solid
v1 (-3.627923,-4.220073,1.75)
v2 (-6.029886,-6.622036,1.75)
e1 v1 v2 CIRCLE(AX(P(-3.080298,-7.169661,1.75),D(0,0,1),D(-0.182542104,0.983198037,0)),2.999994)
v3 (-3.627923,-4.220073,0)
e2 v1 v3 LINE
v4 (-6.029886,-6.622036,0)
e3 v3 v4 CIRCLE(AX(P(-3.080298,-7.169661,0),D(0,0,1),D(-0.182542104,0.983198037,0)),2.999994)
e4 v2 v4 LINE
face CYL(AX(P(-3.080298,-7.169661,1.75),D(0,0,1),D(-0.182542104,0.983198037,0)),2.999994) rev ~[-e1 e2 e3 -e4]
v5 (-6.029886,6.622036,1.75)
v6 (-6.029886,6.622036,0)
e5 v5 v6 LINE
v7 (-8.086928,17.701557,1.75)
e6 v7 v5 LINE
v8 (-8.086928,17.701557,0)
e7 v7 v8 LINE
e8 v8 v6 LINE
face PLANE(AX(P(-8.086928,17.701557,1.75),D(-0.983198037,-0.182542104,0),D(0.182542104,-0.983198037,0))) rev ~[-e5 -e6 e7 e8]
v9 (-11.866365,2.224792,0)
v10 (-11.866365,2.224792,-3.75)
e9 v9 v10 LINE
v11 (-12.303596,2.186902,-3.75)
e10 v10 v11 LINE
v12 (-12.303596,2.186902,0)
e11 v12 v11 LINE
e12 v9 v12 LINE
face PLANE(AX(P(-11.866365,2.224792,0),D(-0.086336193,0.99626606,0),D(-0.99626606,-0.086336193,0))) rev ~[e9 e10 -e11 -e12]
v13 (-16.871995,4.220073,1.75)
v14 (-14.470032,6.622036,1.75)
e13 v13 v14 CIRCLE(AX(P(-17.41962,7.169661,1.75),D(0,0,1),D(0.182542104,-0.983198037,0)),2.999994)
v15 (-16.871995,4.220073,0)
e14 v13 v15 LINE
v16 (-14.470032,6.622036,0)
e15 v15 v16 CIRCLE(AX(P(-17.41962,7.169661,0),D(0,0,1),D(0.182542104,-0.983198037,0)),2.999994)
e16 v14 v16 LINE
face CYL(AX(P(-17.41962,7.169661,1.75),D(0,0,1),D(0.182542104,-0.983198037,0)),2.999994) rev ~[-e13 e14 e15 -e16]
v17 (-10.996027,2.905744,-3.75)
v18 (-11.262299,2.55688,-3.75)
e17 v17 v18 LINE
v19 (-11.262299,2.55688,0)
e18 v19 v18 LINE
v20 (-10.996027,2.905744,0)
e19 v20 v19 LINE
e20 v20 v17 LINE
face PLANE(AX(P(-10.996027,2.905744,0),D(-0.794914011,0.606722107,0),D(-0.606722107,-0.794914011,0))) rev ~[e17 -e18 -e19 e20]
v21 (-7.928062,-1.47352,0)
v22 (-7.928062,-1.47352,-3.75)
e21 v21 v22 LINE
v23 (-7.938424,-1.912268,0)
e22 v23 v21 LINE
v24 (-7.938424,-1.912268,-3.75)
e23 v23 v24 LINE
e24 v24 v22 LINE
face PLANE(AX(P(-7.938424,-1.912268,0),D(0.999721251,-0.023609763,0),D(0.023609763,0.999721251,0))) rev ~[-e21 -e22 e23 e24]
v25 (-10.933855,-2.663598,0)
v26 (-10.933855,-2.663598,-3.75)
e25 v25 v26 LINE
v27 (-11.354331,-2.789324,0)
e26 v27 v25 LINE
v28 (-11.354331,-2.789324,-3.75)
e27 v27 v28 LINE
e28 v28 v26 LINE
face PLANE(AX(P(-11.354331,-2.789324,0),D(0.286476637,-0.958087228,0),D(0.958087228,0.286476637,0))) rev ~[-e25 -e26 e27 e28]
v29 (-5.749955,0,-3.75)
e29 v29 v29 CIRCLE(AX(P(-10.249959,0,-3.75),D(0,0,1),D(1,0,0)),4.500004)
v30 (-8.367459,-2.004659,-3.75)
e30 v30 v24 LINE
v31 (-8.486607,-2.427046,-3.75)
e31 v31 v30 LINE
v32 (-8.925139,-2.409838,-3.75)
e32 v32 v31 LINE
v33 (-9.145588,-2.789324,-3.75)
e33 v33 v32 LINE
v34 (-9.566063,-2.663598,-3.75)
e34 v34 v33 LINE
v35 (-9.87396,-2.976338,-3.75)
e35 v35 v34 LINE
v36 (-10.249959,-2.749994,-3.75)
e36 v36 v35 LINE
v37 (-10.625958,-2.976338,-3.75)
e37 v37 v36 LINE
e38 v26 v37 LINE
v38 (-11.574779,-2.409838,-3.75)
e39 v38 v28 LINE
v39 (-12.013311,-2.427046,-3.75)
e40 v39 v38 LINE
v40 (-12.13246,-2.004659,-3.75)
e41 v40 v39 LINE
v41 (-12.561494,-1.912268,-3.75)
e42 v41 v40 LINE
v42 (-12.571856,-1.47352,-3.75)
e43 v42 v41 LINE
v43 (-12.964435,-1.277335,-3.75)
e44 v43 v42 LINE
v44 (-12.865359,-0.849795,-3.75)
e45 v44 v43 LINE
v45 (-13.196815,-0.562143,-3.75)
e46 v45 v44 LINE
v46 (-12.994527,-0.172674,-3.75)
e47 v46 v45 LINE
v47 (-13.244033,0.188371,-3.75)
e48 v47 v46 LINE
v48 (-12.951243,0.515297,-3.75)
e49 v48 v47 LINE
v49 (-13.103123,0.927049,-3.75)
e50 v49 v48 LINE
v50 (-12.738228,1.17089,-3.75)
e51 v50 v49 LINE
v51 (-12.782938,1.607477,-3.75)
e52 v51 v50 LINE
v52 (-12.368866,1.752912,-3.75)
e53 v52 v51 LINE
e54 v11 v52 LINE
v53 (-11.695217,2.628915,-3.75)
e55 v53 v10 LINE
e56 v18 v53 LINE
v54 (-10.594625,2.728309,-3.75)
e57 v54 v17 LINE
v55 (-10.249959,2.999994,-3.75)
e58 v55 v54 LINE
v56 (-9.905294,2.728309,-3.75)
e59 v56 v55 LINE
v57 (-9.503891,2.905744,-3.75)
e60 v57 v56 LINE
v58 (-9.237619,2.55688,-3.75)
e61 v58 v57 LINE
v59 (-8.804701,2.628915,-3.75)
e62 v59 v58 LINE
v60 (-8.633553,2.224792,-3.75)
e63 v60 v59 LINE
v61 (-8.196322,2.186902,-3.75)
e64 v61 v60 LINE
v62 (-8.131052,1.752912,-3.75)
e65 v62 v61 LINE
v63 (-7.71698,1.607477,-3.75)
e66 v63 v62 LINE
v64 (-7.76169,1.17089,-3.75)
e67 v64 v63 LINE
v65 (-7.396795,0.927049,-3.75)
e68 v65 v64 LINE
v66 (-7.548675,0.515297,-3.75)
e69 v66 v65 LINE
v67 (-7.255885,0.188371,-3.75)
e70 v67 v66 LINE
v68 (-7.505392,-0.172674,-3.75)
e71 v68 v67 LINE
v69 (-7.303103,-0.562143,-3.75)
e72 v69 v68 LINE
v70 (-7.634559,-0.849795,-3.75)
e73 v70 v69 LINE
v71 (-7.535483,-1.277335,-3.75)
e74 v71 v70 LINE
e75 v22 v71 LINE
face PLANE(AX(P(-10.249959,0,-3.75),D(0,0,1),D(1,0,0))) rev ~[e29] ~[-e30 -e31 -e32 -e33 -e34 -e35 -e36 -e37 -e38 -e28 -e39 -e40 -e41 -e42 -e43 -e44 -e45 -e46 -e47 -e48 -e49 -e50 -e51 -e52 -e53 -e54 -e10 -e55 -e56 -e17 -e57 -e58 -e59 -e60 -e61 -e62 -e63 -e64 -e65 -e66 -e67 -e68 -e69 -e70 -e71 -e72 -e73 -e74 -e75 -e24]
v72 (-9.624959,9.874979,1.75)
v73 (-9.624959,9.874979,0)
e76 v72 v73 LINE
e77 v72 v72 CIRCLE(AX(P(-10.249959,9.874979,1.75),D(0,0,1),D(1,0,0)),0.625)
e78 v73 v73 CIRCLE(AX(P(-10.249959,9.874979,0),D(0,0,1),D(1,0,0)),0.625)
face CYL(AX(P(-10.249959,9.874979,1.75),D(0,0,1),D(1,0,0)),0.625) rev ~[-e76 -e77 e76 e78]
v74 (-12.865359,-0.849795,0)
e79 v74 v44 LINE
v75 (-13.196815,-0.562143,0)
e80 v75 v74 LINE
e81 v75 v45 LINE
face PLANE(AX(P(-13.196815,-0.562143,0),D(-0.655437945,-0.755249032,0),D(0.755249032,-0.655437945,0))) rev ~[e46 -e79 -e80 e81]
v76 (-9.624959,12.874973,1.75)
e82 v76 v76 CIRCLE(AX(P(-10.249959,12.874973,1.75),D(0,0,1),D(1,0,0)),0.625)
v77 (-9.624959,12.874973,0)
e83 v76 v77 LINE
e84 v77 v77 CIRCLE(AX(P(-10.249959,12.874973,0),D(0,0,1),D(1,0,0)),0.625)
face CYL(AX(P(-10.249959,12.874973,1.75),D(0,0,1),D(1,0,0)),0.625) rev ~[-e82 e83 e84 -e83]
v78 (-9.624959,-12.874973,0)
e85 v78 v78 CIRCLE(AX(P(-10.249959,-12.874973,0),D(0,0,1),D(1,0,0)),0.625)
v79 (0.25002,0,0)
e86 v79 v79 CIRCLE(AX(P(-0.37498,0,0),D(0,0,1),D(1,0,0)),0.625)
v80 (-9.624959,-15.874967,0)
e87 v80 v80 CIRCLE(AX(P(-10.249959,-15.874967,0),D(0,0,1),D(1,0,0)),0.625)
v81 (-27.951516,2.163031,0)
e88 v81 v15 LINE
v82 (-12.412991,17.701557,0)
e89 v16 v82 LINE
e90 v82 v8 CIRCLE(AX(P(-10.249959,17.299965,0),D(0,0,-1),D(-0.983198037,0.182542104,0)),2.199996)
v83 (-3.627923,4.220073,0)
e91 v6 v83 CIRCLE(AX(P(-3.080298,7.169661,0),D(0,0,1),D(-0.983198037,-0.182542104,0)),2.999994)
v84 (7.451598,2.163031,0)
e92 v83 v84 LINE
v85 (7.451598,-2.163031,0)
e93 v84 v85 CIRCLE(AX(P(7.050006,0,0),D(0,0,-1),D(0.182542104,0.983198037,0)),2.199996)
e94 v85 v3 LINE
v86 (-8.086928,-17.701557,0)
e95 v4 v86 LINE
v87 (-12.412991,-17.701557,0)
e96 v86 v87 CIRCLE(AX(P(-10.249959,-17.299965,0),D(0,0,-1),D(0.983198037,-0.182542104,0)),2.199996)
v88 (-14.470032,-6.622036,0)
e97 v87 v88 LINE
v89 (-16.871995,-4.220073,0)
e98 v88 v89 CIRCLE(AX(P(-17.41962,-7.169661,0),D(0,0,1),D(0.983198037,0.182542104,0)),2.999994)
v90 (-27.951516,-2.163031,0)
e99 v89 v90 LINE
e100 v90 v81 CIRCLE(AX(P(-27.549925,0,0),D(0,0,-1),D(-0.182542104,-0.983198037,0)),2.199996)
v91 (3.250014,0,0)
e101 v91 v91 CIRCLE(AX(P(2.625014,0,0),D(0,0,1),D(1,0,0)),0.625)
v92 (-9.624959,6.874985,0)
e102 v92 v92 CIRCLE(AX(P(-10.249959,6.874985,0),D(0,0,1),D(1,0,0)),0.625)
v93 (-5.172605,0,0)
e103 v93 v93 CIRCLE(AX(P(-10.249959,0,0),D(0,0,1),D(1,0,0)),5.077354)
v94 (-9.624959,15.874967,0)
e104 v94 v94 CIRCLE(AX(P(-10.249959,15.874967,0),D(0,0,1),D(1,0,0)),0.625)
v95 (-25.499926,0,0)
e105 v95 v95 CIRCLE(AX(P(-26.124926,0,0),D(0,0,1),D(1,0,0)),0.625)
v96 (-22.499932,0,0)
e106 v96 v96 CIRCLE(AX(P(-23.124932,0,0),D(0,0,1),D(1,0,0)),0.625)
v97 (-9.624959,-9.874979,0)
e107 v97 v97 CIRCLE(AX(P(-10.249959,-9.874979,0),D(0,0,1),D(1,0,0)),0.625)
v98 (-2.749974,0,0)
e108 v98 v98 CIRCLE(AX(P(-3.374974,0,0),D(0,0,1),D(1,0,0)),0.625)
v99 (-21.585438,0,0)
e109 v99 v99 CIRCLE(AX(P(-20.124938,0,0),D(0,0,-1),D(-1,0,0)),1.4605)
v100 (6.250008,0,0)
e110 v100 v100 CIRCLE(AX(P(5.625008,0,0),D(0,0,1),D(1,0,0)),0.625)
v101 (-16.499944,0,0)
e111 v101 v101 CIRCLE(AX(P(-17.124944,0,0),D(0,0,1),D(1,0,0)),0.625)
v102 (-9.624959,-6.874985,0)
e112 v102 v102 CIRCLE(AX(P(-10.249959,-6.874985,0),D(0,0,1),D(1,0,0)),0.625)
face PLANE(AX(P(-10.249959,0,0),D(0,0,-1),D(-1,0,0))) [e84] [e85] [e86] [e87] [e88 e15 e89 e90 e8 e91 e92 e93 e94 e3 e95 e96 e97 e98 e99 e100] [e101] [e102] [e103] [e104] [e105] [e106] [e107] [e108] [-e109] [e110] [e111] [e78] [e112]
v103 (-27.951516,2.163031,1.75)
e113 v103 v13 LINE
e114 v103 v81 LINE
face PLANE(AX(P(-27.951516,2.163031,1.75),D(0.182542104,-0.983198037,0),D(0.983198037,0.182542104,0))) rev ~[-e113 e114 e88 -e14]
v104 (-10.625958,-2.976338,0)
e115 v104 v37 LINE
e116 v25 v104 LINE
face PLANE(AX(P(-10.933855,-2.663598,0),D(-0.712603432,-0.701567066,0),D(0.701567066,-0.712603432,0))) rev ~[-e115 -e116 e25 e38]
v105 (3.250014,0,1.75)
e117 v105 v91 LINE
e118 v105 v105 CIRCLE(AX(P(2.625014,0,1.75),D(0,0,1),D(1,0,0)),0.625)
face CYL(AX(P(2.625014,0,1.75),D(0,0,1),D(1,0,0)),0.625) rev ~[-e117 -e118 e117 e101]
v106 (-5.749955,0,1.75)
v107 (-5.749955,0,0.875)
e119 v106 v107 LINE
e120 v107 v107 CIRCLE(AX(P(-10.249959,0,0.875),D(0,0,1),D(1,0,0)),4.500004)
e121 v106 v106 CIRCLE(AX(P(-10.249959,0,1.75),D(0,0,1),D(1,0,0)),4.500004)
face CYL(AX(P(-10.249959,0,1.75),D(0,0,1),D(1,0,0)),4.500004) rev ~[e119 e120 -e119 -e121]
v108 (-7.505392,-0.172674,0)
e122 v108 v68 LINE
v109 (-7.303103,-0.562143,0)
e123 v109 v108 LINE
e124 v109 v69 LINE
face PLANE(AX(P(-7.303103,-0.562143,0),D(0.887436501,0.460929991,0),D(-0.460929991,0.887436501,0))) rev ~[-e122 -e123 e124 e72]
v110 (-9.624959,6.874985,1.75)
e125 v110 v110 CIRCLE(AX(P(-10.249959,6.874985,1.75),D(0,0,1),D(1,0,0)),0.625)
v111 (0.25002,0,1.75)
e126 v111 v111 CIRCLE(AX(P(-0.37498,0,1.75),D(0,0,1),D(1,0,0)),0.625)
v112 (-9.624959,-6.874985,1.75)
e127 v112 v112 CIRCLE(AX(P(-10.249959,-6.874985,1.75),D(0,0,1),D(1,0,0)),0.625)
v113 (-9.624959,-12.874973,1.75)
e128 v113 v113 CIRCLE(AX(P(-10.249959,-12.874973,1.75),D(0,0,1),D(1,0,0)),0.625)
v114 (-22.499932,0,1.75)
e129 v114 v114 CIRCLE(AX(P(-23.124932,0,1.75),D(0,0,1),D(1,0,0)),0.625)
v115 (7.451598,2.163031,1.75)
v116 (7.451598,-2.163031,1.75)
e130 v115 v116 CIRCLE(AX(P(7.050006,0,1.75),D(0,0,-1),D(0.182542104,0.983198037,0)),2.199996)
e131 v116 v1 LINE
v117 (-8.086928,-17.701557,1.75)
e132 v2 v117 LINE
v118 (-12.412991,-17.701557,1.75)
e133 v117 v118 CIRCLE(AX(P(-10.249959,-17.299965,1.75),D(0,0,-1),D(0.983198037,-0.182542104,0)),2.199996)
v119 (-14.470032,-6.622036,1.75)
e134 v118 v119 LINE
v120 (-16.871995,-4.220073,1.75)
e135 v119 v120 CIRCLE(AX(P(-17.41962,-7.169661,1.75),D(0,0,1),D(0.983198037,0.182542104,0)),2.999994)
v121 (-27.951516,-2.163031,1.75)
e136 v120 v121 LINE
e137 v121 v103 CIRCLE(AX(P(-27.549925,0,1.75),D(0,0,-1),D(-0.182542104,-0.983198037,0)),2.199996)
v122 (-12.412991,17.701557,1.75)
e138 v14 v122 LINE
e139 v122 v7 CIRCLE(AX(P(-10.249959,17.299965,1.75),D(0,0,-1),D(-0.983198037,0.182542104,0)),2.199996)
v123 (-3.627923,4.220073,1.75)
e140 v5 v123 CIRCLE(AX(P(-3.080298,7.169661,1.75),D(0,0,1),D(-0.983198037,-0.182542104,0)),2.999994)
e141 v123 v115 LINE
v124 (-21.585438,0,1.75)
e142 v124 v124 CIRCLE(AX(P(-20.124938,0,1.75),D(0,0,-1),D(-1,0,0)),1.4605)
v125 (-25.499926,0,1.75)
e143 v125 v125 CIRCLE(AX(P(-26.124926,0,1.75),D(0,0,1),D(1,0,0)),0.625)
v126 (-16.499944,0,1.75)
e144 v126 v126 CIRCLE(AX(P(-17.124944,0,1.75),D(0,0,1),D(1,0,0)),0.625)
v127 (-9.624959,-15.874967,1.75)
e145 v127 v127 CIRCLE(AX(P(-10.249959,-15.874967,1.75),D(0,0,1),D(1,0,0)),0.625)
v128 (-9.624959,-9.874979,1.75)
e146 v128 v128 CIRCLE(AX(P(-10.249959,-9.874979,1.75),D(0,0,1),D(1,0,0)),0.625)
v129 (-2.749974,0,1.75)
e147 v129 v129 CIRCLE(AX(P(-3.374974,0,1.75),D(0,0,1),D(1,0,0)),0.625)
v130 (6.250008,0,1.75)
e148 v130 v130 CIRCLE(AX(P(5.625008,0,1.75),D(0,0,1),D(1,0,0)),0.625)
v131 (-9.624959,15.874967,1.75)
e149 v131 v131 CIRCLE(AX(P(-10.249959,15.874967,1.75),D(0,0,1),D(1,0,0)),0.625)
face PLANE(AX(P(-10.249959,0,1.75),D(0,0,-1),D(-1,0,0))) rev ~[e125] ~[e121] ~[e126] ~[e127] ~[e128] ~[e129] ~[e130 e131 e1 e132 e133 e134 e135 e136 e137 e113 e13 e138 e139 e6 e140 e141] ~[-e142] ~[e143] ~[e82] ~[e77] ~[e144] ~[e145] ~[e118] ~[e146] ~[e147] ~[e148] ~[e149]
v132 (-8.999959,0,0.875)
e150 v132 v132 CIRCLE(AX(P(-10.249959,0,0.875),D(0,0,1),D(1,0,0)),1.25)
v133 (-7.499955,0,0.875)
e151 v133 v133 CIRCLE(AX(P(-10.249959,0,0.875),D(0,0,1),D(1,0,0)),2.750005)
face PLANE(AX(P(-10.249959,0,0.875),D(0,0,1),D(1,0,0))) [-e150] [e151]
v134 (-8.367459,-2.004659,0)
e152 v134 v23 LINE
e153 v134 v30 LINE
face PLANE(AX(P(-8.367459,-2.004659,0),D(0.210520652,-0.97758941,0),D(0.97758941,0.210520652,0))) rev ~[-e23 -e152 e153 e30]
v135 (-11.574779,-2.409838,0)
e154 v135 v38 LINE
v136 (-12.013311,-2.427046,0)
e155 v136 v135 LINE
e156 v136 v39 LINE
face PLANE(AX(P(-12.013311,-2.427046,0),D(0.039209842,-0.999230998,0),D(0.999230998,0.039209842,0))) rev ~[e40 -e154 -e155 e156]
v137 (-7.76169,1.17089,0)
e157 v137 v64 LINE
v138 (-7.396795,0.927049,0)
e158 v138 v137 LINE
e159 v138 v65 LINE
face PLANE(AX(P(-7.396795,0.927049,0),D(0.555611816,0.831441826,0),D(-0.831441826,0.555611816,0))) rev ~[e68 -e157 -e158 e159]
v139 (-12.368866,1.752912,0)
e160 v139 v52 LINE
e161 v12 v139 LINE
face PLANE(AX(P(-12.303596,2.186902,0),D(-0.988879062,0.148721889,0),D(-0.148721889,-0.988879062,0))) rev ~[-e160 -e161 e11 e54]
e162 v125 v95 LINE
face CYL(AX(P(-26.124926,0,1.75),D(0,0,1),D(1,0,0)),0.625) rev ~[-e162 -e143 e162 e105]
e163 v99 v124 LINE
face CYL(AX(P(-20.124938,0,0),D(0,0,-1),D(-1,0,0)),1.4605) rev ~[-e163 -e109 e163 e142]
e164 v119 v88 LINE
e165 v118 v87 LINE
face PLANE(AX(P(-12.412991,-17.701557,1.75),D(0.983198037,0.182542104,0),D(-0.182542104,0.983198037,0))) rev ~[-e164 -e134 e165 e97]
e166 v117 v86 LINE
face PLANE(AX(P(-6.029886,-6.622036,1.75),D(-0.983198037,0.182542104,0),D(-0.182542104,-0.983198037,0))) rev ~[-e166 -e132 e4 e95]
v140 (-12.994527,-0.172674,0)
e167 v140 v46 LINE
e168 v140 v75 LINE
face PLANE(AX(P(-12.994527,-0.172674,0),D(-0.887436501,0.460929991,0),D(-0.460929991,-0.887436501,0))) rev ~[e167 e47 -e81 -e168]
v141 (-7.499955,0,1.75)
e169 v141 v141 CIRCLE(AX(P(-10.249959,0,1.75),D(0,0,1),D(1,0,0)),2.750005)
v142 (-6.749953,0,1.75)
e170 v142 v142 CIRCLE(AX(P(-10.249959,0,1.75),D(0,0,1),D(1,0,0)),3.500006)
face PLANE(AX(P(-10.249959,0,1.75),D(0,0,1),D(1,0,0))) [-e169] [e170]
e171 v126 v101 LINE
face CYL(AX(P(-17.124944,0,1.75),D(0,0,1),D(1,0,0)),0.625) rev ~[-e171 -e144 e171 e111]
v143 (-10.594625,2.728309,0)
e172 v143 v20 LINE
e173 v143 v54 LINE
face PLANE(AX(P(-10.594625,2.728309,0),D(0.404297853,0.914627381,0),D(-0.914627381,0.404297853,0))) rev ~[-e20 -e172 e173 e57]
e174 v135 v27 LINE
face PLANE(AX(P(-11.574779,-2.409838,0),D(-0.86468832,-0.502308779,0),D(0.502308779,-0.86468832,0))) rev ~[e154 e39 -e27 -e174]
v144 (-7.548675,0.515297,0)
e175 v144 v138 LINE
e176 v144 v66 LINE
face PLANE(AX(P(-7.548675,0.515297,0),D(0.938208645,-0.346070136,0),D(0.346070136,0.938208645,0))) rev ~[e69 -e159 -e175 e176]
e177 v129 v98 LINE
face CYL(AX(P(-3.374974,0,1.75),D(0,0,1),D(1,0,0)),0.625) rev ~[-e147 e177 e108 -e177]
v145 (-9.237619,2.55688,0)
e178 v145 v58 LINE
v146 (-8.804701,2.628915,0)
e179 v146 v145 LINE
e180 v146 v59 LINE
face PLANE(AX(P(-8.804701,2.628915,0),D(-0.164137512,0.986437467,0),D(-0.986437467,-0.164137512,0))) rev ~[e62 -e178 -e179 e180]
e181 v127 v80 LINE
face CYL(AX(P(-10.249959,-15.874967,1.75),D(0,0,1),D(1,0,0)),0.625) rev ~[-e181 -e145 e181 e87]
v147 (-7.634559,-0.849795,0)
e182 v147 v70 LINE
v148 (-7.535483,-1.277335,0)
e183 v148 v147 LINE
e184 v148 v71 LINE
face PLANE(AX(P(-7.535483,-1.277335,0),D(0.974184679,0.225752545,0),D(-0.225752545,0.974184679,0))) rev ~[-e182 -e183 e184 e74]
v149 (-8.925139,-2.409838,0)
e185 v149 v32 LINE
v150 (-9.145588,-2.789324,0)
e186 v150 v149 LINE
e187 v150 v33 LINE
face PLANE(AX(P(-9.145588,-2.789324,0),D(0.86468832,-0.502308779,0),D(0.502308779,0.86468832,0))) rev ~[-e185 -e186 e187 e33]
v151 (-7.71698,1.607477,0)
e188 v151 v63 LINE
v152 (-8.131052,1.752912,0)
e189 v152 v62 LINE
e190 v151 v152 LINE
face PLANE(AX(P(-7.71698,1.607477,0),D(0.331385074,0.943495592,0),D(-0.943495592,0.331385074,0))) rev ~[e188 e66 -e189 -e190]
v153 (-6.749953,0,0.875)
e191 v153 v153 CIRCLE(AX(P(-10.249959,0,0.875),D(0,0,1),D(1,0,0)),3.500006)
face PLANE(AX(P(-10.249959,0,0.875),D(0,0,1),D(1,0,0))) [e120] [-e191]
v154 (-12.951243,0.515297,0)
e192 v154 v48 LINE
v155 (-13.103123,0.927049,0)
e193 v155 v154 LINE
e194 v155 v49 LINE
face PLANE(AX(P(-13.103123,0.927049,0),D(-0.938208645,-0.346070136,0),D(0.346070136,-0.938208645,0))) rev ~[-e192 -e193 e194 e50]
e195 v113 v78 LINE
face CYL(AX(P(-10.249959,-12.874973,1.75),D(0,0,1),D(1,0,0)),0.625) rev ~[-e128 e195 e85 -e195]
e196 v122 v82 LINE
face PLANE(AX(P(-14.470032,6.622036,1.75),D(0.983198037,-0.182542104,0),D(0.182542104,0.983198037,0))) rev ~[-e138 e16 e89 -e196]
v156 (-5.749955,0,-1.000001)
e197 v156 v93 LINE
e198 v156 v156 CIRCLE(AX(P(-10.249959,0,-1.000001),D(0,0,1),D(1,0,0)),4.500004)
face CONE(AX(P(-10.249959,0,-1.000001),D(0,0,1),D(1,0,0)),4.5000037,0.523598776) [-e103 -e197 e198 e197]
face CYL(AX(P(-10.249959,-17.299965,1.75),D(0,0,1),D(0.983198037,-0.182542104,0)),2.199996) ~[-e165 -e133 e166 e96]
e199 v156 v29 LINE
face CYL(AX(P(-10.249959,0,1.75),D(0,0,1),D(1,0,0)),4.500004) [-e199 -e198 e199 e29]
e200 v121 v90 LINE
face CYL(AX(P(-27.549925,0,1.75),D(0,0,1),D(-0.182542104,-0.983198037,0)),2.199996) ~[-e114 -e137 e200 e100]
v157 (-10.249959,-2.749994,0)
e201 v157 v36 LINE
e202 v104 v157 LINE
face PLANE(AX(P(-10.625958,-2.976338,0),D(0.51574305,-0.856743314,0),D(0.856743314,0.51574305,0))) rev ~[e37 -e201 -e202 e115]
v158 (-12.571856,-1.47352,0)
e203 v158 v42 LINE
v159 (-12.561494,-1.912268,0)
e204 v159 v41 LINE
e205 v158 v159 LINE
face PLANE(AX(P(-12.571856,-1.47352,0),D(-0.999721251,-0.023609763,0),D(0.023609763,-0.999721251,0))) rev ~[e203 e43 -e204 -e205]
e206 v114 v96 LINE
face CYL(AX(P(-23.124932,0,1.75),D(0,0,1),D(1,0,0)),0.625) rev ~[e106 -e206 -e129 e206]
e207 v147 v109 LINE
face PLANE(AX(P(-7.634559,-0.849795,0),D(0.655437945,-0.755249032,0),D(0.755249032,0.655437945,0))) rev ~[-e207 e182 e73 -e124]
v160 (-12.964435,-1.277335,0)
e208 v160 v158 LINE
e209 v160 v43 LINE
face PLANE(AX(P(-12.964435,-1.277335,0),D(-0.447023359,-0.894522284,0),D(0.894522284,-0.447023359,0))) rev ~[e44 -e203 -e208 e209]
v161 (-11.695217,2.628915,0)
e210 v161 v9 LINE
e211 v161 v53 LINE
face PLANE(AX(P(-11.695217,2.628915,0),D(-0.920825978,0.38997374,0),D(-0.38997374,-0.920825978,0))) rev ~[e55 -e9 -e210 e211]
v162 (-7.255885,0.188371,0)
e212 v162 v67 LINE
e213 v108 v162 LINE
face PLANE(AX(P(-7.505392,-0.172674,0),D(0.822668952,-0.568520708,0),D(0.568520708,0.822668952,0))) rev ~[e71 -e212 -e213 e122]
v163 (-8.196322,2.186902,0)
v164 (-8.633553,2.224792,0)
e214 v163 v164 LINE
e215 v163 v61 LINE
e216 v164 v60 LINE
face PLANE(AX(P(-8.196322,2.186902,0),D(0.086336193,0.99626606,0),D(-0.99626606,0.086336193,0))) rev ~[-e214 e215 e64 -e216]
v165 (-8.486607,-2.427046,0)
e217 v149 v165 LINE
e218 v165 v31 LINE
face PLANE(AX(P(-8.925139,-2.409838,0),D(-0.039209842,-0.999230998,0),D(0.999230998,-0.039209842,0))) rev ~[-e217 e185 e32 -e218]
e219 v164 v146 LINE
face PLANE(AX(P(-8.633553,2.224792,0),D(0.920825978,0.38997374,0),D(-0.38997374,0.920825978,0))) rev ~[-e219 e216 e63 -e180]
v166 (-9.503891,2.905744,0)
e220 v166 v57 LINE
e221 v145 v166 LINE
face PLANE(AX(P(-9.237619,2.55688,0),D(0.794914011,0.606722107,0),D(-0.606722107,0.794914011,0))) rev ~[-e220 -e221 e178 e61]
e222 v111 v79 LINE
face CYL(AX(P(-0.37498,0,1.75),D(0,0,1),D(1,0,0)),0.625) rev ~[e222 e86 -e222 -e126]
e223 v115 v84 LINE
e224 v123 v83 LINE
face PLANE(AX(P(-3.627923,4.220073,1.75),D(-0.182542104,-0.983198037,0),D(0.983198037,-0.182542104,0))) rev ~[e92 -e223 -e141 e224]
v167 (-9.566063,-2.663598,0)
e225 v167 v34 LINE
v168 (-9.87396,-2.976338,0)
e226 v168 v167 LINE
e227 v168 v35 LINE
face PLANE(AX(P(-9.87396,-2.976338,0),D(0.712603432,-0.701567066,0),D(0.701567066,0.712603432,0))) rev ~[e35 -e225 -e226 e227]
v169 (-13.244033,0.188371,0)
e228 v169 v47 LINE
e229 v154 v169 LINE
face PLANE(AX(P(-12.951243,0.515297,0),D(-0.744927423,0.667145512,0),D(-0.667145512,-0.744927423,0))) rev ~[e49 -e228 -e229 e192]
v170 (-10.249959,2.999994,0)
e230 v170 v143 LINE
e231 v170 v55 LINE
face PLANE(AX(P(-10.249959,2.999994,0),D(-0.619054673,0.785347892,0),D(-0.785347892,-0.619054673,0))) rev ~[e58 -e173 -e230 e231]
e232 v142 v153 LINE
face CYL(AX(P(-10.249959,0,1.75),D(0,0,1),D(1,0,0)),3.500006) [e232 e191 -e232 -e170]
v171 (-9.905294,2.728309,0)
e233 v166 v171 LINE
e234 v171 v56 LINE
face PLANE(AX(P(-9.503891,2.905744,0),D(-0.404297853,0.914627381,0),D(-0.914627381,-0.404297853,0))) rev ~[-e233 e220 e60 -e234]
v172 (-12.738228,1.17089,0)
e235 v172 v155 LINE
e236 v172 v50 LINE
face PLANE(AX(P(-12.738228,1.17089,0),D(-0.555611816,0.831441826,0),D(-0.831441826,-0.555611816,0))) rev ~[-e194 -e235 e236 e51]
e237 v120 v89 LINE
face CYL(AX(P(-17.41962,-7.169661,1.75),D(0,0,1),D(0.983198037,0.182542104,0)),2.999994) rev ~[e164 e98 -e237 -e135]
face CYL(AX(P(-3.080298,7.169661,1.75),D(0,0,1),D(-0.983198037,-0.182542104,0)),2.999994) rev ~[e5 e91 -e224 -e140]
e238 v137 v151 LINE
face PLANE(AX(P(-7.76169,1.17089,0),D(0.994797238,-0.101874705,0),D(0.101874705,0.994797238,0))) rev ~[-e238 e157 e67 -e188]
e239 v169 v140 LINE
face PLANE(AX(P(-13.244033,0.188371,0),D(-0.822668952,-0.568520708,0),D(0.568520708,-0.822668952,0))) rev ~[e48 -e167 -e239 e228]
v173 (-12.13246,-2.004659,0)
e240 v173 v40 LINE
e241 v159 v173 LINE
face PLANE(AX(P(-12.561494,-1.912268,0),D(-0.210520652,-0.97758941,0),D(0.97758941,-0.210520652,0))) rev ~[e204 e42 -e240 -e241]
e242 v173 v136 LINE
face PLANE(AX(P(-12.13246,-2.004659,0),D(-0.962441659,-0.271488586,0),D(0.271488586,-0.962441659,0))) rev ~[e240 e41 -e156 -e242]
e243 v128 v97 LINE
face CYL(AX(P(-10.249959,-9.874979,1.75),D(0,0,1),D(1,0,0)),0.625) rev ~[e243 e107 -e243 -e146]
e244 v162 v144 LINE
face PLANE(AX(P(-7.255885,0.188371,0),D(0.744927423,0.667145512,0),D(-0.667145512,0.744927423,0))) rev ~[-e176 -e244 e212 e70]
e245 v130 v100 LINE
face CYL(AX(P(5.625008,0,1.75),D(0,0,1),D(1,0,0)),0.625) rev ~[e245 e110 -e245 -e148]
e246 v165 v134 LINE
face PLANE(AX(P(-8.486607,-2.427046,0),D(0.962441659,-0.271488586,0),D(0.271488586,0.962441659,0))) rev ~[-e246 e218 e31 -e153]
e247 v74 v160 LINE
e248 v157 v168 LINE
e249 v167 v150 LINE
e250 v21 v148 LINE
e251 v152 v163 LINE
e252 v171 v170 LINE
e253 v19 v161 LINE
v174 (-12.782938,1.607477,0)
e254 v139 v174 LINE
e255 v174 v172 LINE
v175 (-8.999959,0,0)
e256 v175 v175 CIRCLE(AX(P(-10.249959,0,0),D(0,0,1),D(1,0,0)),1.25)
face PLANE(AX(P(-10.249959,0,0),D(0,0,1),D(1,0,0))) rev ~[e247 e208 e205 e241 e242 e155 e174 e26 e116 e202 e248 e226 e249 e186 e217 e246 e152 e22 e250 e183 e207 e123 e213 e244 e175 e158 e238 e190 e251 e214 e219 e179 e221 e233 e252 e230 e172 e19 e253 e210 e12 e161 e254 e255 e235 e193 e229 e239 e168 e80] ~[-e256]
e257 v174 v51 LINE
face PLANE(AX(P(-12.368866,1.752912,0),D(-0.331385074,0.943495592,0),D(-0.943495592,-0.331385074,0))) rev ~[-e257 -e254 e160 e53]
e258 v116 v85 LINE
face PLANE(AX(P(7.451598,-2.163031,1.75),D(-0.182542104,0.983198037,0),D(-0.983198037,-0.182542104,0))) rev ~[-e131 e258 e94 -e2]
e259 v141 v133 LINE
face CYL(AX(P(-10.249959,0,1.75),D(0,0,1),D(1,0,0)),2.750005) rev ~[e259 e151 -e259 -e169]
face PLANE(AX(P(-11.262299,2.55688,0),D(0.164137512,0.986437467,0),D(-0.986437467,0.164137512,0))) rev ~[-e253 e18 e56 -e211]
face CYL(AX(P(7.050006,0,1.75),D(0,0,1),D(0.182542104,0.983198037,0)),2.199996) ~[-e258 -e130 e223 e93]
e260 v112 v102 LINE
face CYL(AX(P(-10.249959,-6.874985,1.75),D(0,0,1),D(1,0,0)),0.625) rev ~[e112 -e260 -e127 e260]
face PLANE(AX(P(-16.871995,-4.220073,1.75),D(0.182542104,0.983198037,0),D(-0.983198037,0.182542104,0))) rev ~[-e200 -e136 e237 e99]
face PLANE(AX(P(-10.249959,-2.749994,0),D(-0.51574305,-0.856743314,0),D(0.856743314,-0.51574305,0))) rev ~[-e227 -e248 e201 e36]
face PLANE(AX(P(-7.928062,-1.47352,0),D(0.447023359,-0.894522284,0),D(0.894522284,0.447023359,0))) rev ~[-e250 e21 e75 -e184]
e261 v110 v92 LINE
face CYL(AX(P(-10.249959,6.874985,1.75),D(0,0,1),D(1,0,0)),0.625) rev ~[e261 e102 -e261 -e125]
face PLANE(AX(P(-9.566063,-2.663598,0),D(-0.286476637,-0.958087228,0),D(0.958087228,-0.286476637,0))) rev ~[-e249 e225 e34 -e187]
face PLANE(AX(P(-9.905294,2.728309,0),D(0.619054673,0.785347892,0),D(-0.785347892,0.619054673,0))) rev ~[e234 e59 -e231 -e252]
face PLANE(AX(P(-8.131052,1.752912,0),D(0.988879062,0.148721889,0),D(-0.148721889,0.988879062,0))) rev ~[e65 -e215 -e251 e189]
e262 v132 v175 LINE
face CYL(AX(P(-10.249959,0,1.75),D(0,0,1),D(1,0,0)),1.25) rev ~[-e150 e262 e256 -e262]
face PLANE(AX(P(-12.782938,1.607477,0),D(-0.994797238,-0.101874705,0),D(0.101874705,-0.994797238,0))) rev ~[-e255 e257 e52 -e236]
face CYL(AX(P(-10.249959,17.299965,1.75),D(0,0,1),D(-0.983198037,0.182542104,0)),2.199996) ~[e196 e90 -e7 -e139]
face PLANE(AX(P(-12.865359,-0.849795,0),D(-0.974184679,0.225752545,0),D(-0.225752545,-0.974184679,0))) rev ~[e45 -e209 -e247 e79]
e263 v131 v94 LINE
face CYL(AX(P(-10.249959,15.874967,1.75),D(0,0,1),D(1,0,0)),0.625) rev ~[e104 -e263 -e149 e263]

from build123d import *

# Parameters (mm, degrees)
SKETCH1_R           = 4.5000037
BOSS_EXTRUDE1_DEPTH = 3.75000012
BOSS_EXTRUDE2_START = 1.750000056
SKETCH2_R           = 4.5000037
SKETCH2_R_2         = 3.499999998
SKETCH2_R_3         = 1.25000004
BOSS_EXTRUDE2_DEPTH = 1.750000056
SKETCH4_R           = 2.75000466
SKETCH4_R_2         = 1.25000004
CUT_EXTRUDE1_DEPTH  = 0.875000028
SKETCH6_R           = 4.5000037
SKETCH6_R_2         = 3.5000057
CUT_EXTRUDE2_DEPTH  = 0.875000028
SKETCH10_R          = 0.62500002
SKETCH10_R_2        = 4.5000037
BOSS_EXTRUDE4_DEPTH = 1.750000056
CHAMFER2_SIZE       = 1.00000054
CHAMFER2_SIZE2      = 0.577350581
SKETCH32_R          = 1.4605
CUT_EXTRUDE8_DEPTH  = 36.768264294


with BuildPart() as part:
    # Sketch1 → Boss-Extrude1 (new body)
    with BuildSketch(Plane.XY):
        with Locations((-10.24995918, 0)):
            Circle(SKETCH1_R)
        Polygon((-10.24995918, 2.999994), (-10.594624819, 2.728309468), (-10.996027349, 2.905743672), (-11.262299488, 2.55687975), (-11.695217312, 2.628914782), (-11.866365092, 2.224791874), (-12.303596391, 2.186901508), (-12.368865968, 1.752912142), (-12.782937891, 1.60747717), (-12.738228138, 1.170890494), (-13.103123023, 0.927049129), (-12.951243218, 0.515297489), (-13.244033377, 0.188371182), (-12.994526687, -0.172673551), (-13.196815038, -0.562142819), (-12.865358886, -0.849794878), (-12.964434908, -1.27733532), (-12.571855902, -1.473520467), (-12.561494285, -1.912268145), (-12.132459609, -2.004659346), (-12.01331141, -2.427046129), (-11.574778889, -2.409838105), (-11.354330629, -2.789323879), (-10.933854876, -2.663597874), (-10.625958129, -2.976338151), (-10.24995918, -2.749993992), (-9.873960231, -2.976338151), (-9.566063484, -2.663597874), (-9.145587731, -2.789323879), (-8.925139471, -2.409838105), (-8.48660695, -2.427046129), (-8.367458751, -2.004659346), (-7.938424075, -1.912268145), (-7.928062458, -1.473520467), (-7.535483452, -1.27733532), (-7.634559474, -0.849794878), (-7.303103322, -0.562142819), (-7.505391673, -0.172673551), (-7.255884983, 0.188371182), (-7.548675142, 0.515297489), (-7.396795337, 0.927049129), (-7.761690222, 1.170890494), (-7.716980469, 1.60747717), (-8.131052392, 1.752912142), (-8.196321969, 2.186901508), (-8.633553268, 2.224791874), (-8.804701048, 2.628914782), (-9.237618872, 2.55687975), (-9.503891011, 2.905743672), (-9.905293541, 2.728309468), align=None, mode=Mode.SUBTRACT)
    extrude(amount=-BOSS_EXTRUDE1_DEPTH)

    # Sketch2 → Boss-Extrude2 (add)
    # profile 1 of 2: a face of its own
    with BuildSketch(Plane.XY.offset(BOSS_EXTRUDE2_START)):
        with Locations((-10.24995918, 0)):
            Circle(SKETCH2_R)
        with Locations((-10.24995918, 0)):
            Circle(SKETCH2_R_2, mode=Mode.SUBTRACT)
    # profile 2 of 2: a face of its own
    with BuildSketch(Plane.XY.offset(BOSS_EXTRUDE2_START)):
        with Locations((-10.24995918, 0)):
            Circle(SKETCH2_R_2)
        with Locations((-10.24995918, 0)):
            Circle(SKETCH2_R_3, mode=Mode.SUBTRACT)
    extrude(amount=-BOSS_EXTRUDE2_DEPTH)

    # Sketch4 → Cut-Extrude1 (cut)
    with BuildSketch(Plane.XY.offset(1.750000056)):
        with Locations((-10.24995918, 0)):
            Circle(SKETCH4_R)
        with Locations((-10.24995918, 0)):
            Circle(SKETCH4_R_2, mode=Mode.SUBTRACT)
    extrude(amount=-CUT_EXTRUDE1_DEPTH, mode=Mode.SUBTRACT)

    # Sketch6 → Cut-Extrude2 (cut)
    with BuildSketch(Plane.XY.offset(1.750000056)):
        with Locations((-10.24995918, 0)):
            Circle(SKETCH6_R)
        with Locations((-10.24995918, 0)):
            Circle(SKETCH6_R_2, mode=Mode.SUBTRACT)
    extrude(amount=-CUT_EXTRUDE2_DEPTH, mode=Mode.SUBTRACT)

    # Sketch10 → Boss-Extrude4 (add)
    with BuildSketch(Plane.XY.offset(1.750000056)):
        with BuildLine():
            Line((-8.086927824, 17.701557226), (-6.029886341, 6.622035833))
            ThreePointArc((-6.029886341, 6.622035833), (-5.20161423, 5.04834495), (-3.627923347, 4.220072839))
            Line((-3.627923347, 4.220072839), (7.451598046, 2.163031356))
            ThreePointArc((7.451598046, 2.163031356), (9.25000182, 0), (7.451598046, -2.163031356))
            Line((7.451598046, -2.163031356), (-3.627923347, -4.220072839))
            ThreePointArc((-3.627923347, -4.220072839), (-5.20161423, -5.04834495), (-6.029886341, -6.622035833))
            Line((-6.029886341, -6.622035833), (-8.086927824, -17.701557226))
            ThreePointArc((-8.086927824, -17.701557226), (-10.24995918, -19.499961), (-12.412990536, -17.701557226))
            Line((-12.412990536, -17.701557226), (-14.470032019, -6.622035833))
            ThreePointArc((-14.470032019, -6.622035833), (-15.29830413, -5.04834495), (-16.871995013, -4.220072839))
            Line((-16.871995013, -4.220072839), (-27.951516406, -2.163031356))
            ThreePointArc((-27.951516406, -2.163031356), (-29.74992018, 0), (-27.951516406, 2.163031356))
            Line((-27.951516406, 2.163031356), (-16.871995013, 4.220072839))
            ThreePointArc((-16.871995013, 4.220072839), (-15.29830413, 5.04834495), (-14.470032019, 6.622035833))
            Line((-14.470032019, 6.622035833), (-12.412990536, 17.701557226))
            ThreePointArc((-12.412990536, 17.701557226), (-10.24995918, 19.499961), (-8.086927824, 17.701557226))
        make_face()
        with Locations((-10.24995918, 15.87496698)):
            Circle(SKETCH10_R, mode=Mode.SUBTRACT)
        with Locations((-10.24995918, 12.87497298)):
            Circle(SKETCH10_R, mode=Mode.SUBTRACT)
        with Locations((-10.24995918, 9.87497898)):
            Circle(SKETCH10_R, mode=Mode.SUBTRACT)
        with Locations((-10.24995918, 6.87498498)):
            Circle(SKETCH10_R, mode=Mode.SUBTRACT)
        with Locations((5.6250078, 0)):
            Circle(SKETCH10_R, mode=Mode.SUBTRACT)
        with Locations((2.6250138, 0)):
            Circle(SKETCH10_R, mode=Mode.SUBTRACT)
        with Locations((-0.3749802, 0)):
            Circle(SKETCH10_R, mode=Mode.SUBTRACT)
        with Locations((-3.3749742, 0)):
            Circle(SKETCH10_R, mode=Mode.SUBTRACT)
        with Locations((-10.24995918, -15.87496698)):
            Circle(SKETCH10_R, mode=Mode.SUBTRACT)
        with Locations((-10.24995918, -12.87497298)):
            Circle(SKETCH10_R, mode=Mode.SUBTRACT)
        with Locations((-10.24995918, -9.87497898)):
            Circle(SKETCH10_R, mode=Mode.SUBTRACT)
        with Locations((-10.24995918, -6.87498498)):
            Circle(SKETCH10_R, mode=Mode.SUBTRACT)
        with Locations((-26.12492616, 0)):
            Circle(SKETCH10_R, mode=Mode.SUBTRACT)
        with Locations((-23.12493216, 0)):
            Circle(SKETCH10_R, mode=Mode.SUBTRACT)
        with Locations((-20.12493816, 0)):
            Circle(SKETCH10_R, mode=Mode.SUBTRACT)
        with Locations((-17.12494416, 0)):
            Circle(SKETCH10_R, mode=Mode.SUBTRACT)
        with Locations((-10.24995918, 0)):
            Circle(SKETCH10_R_2, mode=Mode.SUBTRACT)
    extrude(amount=-BOSS_EXTRUDE4_DEPTH)

    # Chamfer2
    chamfer2_edges = [part.edges().sort_by_distance(p)[0] for p in [
        (-14.74996288, 0, 0),
    ]]
    chamfer2_side = [part.faces().sort_by_distance(p)[0] for p in [
        (-14.74996288, 0, -1.87500006),
    ]]
    chamfer(chamfer2_edges, length=CHAMFER2_SIZE, length2=CHAMFER2_SIZE2, reference=chamfer2_side[0])

    # Sketch32 → Cut-Extrude8 (cut, through all)
    with BuildSketch(Plane(origin=(0, 0, 0), x_dir=(-1, 0, 0), z_dir=(0, 0, -1))):
        with Locations((20.12493816, 0)):
            Circle(SKETCH32_R)
    extrude(amount=-CUT_EXTRUDE8_DEPTH, mode=Mode.SUBTRACT)


solid = part.part
